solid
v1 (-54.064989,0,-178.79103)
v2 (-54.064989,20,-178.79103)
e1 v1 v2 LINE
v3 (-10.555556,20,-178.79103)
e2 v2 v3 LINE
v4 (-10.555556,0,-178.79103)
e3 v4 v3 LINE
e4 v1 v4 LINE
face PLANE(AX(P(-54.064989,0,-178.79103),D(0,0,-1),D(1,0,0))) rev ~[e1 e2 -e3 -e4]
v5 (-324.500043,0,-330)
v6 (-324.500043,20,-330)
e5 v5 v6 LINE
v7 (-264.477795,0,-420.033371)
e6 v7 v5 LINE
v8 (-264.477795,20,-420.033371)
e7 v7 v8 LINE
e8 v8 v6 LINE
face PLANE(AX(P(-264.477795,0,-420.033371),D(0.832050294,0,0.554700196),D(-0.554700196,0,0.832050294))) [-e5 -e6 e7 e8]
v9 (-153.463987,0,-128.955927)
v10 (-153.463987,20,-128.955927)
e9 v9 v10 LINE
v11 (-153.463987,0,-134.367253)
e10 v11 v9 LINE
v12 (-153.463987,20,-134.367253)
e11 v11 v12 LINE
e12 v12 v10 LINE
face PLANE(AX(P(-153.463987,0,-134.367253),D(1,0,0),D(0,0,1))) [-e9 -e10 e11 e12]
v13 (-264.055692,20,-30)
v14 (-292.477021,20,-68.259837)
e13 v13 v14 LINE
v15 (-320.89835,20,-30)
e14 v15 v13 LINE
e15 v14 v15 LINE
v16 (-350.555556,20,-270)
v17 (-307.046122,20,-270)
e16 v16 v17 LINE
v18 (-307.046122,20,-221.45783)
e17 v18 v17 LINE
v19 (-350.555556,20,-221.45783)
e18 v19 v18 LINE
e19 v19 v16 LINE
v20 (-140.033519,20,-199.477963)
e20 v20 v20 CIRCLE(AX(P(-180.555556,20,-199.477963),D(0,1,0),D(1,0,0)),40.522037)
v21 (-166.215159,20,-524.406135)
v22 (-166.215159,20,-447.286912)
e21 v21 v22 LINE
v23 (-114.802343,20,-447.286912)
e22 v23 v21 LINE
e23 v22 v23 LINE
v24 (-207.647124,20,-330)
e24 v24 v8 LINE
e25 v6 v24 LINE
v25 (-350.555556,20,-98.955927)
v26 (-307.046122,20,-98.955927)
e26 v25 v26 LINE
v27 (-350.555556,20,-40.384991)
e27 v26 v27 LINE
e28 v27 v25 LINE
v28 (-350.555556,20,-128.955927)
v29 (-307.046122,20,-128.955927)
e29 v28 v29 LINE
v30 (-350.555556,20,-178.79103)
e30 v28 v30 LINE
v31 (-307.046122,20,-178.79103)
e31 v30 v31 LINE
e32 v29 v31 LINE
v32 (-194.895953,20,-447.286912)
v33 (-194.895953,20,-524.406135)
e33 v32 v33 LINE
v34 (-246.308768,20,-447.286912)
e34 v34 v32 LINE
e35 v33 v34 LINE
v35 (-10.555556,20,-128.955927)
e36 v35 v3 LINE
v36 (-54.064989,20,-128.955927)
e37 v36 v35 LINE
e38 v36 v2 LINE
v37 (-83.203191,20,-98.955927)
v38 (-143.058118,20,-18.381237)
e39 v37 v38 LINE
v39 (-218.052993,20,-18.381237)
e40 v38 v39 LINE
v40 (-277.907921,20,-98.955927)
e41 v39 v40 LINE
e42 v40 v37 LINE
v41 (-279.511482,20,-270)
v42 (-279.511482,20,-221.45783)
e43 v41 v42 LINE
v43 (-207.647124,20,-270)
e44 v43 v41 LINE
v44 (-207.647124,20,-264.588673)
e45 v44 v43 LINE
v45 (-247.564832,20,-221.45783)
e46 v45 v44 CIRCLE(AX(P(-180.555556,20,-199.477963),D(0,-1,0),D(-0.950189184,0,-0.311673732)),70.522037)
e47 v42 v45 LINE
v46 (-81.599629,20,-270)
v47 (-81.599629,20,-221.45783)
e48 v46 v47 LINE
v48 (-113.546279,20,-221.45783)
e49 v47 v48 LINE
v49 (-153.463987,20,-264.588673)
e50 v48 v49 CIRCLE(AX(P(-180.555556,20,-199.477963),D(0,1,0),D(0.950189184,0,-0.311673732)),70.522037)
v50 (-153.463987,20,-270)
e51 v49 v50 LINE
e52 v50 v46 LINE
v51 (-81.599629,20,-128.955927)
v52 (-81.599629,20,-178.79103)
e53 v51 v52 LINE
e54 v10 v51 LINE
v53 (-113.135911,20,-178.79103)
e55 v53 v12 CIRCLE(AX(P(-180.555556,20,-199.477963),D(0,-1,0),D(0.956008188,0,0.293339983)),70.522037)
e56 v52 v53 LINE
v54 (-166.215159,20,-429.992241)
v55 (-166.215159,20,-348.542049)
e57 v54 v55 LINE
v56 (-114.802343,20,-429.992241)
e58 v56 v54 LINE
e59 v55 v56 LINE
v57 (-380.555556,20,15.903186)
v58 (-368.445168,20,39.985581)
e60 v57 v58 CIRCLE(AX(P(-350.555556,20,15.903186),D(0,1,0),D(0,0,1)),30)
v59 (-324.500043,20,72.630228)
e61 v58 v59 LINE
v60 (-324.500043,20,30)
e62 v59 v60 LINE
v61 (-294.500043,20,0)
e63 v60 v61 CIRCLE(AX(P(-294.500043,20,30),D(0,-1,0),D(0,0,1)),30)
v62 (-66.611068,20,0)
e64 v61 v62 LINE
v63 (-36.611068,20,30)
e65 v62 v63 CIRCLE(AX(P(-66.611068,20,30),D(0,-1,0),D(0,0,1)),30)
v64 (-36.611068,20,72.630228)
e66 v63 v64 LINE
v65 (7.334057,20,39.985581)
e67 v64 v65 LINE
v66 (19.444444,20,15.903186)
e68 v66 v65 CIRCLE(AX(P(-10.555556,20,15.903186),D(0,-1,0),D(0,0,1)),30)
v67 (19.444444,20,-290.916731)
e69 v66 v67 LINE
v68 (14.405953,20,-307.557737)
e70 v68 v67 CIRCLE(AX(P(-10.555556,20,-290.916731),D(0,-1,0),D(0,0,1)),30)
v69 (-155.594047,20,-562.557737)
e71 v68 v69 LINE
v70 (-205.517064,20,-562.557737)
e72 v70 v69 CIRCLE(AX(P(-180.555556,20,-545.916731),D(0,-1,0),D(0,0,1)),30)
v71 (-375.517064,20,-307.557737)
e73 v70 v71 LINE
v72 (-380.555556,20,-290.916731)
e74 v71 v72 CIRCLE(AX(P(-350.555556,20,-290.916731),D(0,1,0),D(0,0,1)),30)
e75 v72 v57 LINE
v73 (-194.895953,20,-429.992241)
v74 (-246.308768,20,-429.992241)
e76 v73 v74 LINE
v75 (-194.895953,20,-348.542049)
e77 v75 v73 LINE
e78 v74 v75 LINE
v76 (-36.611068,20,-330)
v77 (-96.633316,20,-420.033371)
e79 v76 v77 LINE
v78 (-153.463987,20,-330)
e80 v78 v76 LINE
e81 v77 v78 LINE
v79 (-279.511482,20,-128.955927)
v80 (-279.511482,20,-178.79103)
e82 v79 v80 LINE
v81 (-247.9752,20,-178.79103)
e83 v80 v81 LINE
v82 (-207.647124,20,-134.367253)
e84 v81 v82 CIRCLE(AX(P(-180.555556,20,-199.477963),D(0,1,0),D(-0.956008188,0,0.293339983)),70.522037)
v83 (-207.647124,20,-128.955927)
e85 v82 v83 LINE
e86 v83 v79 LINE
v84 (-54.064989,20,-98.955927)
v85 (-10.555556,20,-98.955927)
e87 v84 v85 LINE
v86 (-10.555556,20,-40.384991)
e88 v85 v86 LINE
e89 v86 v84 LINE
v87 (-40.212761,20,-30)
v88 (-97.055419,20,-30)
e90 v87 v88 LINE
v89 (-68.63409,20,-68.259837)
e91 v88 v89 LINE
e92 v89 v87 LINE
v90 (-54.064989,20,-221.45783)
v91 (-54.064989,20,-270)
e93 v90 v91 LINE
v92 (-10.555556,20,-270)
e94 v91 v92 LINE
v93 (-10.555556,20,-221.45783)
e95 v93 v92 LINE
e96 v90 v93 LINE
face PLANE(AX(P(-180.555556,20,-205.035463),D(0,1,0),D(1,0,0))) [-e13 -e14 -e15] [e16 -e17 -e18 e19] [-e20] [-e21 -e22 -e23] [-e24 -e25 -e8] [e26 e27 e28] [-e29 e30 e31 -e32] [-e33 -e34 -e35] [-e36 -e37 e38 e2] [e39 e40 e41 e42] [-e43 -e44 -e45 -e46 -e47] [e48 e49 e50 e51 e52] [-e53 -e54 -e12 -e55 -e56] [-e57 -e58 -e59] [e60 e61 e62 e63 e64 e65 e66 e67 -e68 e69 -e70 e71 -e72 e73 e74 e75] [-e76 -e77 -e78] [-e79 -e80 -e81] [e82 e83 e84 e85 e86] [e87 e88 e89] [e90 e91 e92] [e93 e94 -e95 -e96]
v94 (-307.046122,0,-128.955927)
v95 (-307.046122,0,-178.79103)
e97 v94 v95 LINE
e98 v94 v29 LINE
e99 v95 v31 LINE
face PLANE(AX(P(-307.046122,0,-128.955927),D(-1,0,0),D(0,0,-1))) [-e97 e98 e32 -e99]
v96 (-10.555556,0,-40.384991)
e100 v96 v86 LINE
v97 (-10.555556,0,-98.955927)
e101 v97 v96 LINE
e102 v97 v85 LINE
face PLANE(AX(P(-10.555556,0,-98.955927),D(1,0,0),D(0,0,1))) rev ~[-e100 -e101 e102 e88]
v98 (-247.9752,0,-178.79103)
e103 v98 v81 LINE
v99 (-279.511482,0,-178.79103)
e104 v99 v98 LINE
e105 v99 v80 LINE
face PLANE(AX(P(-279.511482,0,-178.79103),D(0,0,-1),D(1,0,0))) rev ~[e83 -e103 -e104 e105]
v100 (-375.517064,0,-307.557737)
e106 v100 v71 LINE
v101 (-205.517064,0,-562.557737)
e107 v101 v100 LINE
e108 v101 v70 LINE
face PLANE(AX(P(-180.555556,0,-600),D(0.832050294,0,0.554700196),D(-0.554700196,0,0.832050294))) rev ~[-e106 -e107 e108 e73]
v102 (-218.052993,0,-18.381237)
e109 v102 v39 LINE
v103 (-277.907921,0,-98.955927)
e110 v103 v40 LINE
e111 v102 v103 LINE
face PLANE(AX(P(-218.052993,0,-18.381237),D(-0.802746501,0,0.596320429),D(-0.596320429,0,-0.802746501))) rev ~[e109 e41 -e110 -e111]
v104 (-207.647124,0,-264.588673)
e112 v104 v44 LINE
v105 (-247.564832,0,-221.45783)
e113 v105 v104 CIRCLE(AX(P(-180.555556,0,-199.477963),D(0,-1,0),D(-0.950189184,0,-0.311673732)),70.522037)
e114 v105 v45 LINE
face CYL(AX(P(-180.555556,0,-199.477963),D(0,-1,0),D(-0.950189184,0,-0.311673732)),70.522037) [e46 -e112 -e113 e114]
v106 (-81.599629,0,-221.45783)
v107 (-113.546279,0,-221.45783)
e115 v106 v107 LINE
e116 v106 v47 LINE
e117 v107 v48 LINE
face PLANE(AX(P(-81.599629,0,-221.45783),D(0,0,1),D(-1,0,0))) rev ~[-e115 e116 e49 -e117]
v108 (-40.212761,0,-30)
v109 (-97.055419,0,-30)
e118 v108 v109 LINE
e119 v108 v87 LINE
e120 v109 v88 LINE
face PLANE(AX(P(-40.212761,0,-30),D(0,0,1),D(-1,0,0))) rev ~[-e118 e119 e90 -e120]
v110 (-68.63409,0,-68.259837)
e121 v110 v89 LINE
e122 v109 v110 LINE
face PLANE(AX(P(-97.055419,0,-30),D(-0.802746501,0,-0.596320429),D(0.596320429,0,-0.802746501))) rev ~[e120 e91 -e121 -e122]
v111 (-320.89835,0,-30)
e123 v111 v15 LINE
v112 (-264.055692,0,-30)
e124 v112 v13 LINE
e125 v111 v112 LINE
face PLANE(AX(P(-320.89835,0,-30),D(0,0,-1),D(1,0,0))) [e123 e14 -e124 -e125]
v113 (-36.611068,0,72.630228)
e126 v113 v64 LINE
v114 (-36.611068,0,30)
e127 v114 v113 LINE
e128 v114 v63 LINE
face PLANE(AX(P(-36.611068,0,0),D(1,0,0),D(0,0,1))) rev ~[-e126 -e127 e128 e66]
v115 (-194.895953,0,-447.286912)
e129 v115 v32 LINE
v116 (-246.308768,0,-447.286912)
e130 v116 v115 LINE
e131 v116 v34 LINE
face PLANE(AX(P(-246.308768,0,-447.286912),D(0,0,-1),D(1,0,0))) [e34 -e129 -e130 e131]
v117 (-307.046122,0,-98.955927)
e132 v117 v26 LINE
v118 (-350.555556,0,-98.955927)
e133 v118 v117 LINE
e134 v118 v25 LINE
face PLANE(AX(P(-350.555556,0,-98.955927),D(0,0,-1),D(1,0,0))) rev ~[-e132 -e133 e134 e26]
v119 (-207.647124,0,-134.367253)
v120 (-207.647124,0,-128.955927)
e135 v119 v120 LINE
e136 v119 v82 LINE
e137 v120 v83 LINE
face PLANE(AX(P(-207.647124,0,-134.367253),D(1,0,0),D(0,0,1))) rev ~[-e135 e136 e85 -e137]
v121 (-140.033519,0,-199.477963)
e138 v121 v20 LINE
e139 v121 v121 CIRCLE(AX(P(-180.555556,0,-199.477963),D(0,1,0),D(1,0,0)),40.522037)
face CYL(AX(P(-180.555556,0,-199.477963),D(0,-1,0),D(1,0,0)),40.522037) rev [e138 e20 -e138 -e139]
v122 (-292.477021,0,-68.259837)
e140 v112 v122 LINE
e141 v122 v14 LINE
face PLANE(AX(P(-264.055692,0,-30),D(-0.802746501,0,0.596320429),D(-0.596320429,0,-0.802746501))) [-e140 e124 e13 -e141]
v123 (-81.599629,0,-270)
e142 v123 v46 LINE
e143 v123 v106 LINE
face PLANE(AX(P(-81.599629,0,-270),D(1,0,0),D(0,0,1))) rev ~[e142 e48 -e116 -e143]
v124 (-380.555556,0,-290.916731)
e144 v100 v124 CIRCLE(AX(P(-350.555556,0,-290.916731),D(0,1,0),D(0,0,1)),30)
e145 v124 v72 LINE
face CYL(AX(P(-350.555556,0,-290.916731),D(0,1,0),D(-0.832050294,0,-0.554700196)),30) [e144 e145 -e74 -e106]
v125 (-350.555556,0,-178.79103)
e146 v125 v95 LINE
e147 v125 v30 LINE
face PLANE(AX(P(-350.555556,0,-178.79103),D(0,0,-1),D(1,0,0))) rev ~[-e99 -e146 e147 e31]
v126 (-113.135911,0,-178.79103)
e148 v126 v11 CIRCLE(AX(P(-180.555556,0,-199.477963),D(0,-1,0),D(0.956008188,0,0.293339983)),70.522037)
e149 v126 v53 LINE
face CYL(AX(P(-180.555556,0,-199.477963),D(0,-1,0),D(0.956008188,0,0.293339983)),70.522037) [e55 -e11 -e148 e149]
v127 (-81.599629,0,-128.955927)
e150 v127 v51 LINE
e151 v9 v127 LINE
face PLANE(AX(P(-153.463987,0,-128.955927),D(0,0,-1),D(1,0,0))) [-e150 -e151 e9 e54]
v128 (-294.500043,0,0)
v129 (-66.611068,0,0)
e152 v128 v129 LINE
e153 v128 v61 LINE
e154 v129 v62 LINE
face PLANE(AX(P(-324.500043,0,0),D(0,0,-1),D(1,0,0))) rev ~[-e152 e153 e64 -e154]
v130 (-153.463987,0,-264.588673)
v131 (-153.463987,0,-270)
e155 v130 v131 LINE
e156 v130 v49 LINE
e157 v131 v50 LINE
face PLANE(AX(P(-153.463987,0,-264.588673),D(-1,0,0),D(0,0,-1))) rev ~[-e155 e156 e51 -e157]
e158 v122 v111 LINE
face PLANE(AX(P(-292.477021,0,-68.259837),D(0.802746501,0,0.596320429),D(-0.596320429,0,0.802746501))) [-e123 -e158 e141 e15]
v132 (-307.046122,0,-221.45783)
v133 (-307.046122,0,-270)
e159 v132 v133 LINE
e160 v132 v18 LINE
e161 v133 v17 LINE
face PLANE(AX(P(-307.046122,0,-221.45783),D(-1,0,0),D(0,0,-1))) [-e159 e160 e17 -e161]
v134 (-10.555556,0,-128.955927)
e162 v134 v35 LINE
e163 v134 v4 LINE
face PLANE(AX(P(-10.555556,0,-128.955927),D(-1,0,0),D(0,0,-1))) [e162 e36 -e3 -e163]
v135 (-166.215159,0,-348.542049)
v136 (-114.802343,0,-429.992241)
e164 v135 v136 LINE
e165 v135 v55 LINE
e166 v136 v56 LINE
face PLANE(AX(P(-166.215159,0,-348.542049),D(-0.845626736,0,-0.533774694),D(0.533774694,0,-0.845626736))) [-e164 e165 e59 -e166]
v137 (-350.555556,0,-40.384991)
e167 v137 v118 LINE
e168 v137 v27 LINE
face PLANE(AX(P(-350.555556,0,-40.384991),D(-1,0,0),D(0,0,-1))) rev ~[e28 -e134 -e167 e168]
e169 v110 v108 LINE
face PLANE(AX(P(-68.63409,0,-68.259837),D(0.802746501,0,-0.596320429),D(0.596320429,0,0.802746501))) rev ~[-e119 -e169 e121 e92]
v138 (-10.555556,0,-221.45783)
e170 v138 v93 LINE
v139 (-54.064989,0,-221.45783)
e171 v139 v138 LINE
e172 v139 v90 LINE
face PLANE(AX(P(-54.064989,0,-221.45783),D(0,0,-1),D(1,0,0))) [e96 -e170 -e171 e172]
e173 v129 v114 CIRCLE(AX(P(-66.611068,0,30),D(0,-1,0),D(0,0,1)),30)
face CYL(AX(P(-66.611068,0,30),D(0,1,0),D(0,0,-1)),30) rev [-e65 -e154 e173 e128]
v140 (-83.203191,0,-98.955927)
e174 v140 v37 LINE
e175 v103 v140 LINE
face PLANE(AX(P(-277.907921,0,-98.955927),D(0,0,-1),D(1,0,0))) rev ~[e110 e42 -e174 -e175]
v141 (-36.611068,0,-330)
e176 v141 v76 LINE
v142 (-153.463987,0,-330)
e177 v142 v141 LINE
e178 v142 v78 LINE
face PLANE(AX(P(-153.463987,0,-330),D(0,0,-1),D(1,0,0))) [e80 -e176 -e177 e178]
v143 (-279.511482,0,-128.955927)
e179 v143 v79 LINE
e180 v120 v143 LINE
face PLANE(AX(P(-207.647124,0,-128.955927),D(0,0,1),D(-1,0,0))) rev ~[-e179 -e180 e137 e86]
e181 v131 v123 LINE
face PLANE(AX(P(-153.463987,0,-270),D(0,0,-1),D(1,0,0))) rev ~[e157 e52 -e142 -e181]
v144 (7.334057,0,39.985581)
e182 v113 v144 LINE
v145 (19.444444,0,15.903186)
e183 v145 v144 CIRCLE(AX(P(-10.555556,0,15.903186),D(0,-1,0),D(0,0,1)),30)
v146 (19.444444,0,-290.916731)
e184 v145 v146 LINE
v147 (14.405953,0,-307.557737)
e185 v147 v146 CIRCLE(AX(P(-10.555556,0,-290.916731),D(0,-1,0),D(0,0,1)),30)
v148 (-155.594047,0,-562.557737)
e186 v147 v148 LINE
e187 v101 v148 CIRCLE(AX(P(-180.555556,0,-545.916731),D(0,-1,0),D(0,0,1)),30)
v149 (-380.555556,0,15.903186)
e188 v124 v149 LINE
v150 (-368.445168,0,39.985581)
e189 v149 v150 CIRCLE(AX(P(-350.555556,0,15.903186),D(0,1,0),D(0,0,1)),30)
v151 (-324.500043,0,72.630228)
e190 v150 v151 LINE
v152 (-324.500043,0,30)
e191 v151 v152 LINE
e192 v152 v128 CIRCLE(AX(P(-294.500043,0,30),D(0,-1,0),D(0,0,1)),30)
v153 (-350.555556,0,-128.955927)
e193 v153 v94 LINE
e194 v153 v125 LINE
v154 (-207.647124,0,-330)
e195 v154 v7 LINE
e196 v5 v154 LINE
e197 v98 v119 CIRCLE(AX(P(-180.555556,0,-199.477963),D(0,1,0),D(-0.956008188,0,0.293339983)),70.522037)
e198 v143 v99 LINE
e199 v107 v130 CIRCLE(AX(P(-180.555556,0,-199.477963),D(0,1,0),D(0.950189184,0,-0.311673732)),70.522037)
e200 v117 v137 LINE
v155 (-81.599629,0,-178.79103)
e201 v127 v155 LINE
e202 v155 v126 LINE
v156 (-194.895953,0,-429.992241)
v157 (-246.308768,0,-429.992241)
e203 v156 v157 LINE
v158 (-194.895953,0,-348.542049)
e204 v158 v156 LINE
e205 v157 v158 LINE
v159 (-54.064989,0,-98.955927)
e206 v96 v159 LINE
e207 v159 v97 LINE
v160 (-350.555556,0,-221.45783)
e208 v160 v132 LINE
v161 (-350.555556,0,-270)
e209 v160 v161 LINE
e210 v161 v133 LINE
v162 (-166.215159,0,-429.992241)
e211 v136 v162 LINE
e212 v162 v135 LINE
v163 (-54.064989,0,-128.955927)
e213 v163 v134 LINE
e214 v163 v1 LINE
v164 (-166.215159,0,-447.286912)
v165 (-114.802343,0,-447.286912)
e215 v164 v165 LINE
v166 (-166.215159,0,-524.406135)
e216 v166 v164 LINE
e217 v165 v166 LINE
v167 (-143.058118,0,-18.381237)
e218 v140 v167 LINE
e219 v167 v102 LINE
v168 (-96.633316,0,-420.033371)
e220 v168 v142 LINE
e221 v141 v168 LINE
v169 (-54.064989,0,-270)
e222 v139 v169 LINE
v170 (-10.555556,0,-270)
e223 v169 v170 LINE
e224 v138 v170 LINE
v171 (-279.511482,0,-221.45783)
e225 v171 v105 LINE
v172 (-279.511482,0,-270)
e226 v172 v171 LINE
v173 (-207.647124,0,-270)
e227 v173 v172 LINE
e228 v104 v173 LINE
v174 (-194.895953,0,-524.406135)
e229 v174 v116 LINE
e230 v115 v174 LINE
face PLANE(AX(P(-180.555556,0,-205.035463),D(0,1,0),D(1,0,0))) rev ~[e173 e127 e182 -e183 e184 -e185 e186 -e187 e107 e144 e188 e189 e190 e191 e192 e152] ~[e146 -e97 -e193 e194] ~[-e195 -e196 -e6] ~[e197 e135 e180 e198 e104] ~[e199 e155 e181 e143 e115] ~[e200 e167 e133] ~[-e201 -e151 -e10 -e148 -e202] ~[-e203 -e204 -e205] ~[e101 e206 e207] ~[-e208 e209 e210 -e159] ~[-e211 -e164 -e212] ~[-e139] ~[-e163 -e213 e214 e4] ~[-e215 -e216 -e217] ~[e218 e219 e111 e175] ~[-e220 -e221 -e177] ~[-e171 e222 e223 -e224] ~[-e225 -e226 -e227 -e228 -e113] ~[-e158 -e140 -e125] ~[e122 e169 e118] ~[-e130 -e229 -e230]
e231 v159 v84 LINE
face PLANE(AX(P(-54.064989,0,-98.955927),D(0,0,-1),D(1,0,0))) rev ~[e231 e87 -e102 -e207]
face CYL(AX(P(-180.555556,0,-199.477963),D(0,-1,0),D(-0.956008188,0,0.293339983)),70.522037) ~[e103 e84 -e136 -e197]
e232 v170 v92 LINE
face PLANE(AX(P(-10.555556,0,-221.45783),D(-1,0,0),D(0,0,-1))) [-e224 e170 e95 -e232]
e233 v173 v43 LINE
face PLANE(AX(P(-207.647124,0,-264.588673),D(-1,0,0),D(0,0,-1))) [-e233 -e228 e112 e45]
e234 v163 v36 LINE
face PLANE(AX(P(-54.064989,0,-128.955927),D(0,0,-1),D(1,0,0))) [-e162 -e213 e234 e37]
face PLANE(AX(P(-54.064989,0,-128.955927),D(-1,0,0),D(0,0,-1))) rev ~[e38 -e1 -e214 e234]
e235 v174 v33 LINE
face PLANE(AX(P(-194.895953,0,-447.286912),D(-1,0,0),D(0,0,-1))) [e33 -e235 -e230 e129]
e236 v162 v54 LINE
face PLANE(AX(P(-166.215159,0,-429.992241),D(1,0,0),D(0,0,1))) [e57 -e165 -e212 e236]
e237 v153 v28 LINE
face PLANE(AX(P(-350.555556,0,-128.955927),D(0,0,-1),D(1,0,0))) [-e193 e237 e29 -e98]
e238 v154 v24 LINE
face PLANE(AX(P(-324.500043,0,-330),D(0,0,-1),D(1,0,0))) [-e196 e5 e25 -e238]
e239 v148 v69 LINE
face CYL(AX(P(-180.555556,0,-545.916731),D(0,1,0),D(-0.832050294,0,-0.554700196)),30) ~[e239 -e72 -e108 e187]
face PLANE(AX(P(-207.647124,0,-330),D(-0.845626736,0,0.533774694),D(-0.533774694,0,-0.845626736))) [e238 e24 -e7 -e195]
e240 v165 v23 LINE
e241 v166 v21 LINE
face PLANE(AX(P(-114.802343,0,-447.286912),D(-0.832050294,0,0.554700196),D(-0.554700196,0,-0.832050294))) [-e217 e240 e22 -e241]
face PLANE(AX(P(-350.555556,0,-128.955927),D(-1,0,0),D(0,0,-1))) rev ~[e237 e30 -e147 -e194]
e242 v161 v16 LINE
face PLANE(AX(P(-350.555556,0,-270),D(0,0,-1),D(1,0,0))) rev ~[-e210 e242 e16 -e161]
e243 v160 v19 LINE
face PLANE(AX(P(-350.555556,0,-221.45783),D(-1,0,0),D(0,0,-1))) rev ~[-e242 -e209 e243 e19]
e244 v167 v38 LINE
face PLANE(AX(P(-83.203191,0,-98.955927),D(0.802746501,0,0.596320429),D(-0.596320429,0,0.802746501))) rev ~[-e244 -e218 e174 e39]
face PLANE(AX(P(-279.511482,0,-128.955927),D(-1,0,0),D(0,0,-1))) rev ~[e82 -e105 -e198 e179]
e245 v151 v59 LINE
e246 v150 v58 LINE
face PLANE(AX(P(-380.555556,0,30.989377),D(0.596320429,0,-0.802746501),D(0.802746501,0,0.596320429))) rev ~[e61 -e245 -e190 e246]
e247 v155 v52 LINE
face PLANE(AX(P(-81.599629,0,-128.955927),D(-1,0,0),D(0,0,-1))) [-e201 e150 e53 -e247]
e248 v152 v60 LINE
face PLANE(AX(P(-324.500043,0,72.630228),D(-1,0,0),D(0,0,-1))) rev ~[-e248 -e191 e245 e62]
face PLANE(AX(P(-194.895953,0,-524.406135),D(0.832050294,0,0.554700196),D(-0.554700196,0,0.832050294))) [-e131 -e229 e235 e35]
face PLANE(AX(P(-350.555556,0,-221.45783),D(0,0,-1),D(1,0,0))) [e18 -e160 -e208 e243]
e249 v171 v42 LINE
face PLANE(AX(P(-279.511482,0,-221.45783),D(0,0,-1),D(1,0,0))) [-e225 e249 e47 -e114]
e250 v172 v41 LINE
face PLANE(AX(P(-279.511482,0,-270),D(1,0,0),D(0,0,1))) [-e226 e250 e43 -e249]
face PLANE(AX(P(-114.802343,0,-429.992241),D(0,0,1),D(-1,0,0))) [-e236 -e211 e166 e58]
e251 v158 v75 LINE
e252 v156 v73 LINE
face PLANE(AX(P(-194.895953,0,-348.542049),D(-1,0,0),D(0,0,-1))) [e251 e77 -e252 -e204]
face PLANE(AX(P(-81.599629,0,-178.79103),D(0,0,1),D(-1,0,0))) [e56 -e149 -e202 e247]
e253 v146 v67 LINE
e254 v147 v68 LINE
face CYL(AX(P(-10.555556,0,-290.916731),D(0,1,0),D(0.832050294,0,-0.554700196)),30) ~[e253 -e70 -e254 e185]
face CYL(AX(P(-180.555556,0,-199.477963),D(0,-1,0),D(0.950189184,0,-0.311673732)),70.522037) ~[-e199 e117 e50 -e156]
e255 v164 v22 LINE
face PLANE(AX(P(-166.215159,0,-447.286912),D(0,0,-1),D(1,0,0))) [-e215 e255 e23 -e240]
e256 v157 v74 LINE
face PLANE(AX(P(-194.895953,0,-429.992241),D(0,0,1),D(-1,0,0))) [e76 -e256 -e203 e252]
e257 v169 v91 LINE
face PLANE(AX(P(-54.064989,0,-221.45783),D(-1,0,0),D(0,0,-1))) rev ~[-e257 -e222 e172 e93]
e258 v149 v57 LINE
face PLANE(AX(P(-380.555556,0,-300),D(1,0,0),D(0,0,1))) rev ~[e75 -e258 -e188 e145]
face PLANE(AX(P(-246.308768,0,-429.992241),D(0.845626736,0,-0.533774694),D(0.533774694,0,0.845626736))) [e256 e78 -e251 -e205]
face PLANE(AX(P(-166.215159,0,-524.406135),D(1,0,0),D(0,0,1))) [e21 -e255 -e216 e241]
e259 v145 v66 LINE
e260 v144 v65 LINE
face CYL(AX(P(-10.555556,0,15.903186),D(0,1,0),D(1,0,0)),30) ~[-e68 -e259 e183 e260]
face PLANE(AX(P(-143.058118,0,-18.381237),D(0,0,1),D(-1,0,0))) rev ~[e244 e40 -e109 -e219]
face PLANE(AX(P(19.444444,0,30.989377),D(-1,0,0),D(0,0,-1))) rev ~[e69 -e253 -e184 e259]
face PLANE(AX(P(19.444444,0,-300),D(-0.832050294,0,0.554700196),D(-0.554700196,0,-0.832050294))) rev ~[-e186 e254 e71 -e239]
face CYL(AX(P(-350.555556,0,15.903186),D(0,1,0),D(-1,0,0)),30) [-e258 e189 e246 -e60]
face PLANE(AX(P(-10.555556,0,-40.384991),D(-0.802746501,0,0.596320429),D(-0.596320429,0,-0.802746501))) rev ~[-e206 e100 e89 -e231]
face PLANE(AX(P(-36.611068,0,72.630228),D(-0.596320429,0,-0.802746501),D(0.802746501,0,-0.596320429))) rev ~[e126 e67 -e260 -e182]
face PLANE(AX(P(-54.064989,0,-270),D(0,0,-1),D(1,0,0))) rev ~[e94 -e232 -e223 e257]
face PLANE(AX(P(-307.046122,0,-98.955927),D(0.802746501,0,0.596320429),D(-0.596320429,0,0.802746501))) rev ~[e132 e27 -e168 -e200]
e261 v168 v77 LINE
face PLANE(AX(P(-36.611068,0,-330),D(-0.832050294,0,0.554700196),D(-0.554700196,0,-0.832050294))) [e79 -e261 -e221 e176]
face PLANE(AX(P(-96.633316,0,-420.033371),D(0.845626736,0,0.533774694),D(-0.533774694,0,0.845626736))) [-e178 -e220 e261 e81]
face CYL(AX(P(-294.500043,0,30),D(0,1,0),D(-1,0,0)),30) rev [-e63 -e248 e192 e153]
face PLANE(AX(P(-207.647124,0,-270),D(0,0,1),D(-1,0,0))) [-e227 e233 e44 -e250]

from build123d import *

# Parameters (mm, degrees)
SKETCH1_R           = 40.52203667
SKETCH1_W           = 43.509433639
SKETCH1_H           = 49.835103658
SKETCH1_H_2         = 48.542170344
SKETCH1_W_2         = 43.509433638
BOSS_EXTRUDE6_DEPTH = 20
FILLET1_R           = 30
FILLET2_R           = 30


with BuildPart() as part:
    # Sketch1 → Boss-Extrude6 (new body)
    with BuildSketch(Plane(origin=(0, 0, 0), x_dir=(1, 0, 0), z_dir=(0, 1, 0))):
        Polygon((-324.500042801, 0), (-36.61106831, 0), (-36.61106831, -72.630227613), (19.444444444, -30.98937664), (19.444444444, 0), (19.444444444, 300), (-180.555555556, 600), (-380.555555556, 300), (-380.555555556, 0), (-380.555555556, -30.98937664), (-324.500042801, -72.630227613), align=None)
        with Locations((-180.555555556, 199.47796333)):
            Circle(SKETCH1_R, mode=Mode.SUBTRACT)
        Polygon((-350.555555556, 98.955926659), (-307.046121917, 98.955926659), (-350.555555556, 40.384990781), align=None, mode=Mode.SUBTRACT)
        Polygon((-218.052993309, 18.381237109), (-277.907920592, 98.955926659), (-83.203190519, 98.955926659), (-143.058117802, 18.381237109), align=None, mode=Mode.SUBTRACT)
        Polygon((-40.212760909, 30), (-97.055418804, 30), (-68.634089856, 68.259836918), align=None, mode=Mode.SUBTRACT)
        with Locations((-328.800838736, 153.873478488)):
            Rectangle(SKETCH1_W, SKETCH1_H, mode=Mode.SUBTRACT)
        Polygon((-194.895952536, 524.406135398), (-246.308768225, 447.286911864), (-194.895952536, 447.286911864), align=None, mode=Mode.SUBTRACT)
        Polygon((-36.61106831, 330), (-96.633315679, 420.033371054), (-153.463987032, 330), align=None, mode=Mode.SUBTRACT)
        Polygon((-324.500042801, 330), (-207.64712408, 330), (-264.477795432, 420.033371054), align=None, mode=Mode.SUBTRACT)
        Polygon((-10.555555556, 40.384990781), (-54.064989194, 98.955926659), (-10.555555556, 98.955926659), align=None, mode=Mode.SUBTRACT)
        with Locations((-328.800838736, 245.728914828)):
            Rectangle(SKETCH1_W, SKETCH1_H_2, mode=Mode.SUBTRACT)
        with Locations((-32.310272375, 153.873478488)):
            Rectangle(SKETCH1_W_2, SKETCH1_H, mode=Mode.SUBTRACT)
        Polygon((-320.898350202, 30), (-264.055692307, 30), (-292.477021255, 68.259836918), align=None, mode=Mode.SUBTRACT)
        with Locations((-32.310272375, 245.728914828)):
            Rectangle(SKETCH1_W_2, SKETCH1_H_2, mode=Mode.SUBTRACT)
        with BuildLine():
            Line((-279.511482215, 270), (-279.511482215, 221.457829656))
            Line((-279.511482215, 221.457829656), (-247.564832021, 221.457829656))
            ThreePointArc((-247.564832021, 221.457829656), (-232.312774166, 247.379403578), (-207.64712408, 264.58867344))
            Line((-207.64712408, 264.58867344), (-207.64712408, 270))
            Line((-207.64712408, 270), (-279.511482215, 270))
        make_face(mode=Mode.SUBTRACT)
        with BuildLine():
            Line((-279.511482215, 128.955926659), (-279.511482215, 178.791030317))
            Line((-279.511482215, 178.791030317), (-247.975200012, 178.791030317))
            ThreePointArc((-247.975200012, 178.791030317), (-232.771073725, 152.076514844), (-207.64712408, 134.367253219))
            Line((-207.64712408, 134.367253219), (-207.64712408, 128.955926659))
            Line((-207.64712408, 128.955926659), (-279.511482215, 128.955926659))
        make_face(mode=Mode.SUBTRACT)
        with BuildLine():
            Line((-153.463987032, 134.367253219), (-153.463987032, 128.955926659))
            Line((-153.463987032, 128.955926659), (-81.599628896, 128.955926659))
            Line((-81.599628896, 128.955926659), (-81.599628896, 178.791030317))
            Line((-81.599628896, 178.791030317), (-113.135911099, 178.791030317))
            ThreePointArc((-113.135911099, 178.791030317), (-128.340037386, 152.076514844), (-153.463987032, 134.367253219))
        make_face(mode=Mode.SUBTRACT)
        with BuildLine():
            Line((-153.463987032, 264.58867344), (-153.463987032, 270))
            Line((-153.463987032, 270), (-81.599628896, 270))
            Line((-81.599628896, 270), (-81.599628896, 221.457829656))
            Line((-81.599628896, 221.457829656), (-113.54627909, 221.457829656))
            ThreePointArc((-113.54627909, 221.457829656), (-128.798336945, 247.379403578), (-153.463987032, 264.58867344))
        make_face(mode=Mode.SUBTRACT)
        Polygon((-114.802342886, 429.992241235), (-166.215158575, 429.992241235), (-166.215158575, 348.542048906), align=None, mode=Mode.SUBTRACT)
        Polygon((-114.802342886, 447.286911864), (-166.215158575, 524.406135398), (-166.215158575, 447.286911864), align=None, mode=Mode.SUBTRACT)
        Polygon((-246.308768225, 429.992241235), (-194.895952536, 348.542048906), (-194.895952536, 429.992241235), align=None, mode=Mode.SUBTRACT)
    extrude(amount=BOSS_EXTRUDE6_DEPTH)

    # Fillet1
    fillet1_edges = [part.edges().sort_by_distance(p)[0] for p in [
        (-180.555555556, 10, -600),
    ]]
    fillet(fillet1_edges, radius=FILLET1_R)

    # Fillet2
    fillet2_edges = [part.edges().sort_by_distance(p)[0] for p in [
        (19.444444444, 10, 30.98937664),
        (-36.61106831, 10, 0),
        (-324.500042801, 10, 0),
        (-380.555555556, 10, 30.98937664),
        (-380.555555556, 10, -300),
        (19.444444444, 10, -300),
    ]]
    fillet(fillet2_edges, radius=FILLET2_R)


solid = part.part
